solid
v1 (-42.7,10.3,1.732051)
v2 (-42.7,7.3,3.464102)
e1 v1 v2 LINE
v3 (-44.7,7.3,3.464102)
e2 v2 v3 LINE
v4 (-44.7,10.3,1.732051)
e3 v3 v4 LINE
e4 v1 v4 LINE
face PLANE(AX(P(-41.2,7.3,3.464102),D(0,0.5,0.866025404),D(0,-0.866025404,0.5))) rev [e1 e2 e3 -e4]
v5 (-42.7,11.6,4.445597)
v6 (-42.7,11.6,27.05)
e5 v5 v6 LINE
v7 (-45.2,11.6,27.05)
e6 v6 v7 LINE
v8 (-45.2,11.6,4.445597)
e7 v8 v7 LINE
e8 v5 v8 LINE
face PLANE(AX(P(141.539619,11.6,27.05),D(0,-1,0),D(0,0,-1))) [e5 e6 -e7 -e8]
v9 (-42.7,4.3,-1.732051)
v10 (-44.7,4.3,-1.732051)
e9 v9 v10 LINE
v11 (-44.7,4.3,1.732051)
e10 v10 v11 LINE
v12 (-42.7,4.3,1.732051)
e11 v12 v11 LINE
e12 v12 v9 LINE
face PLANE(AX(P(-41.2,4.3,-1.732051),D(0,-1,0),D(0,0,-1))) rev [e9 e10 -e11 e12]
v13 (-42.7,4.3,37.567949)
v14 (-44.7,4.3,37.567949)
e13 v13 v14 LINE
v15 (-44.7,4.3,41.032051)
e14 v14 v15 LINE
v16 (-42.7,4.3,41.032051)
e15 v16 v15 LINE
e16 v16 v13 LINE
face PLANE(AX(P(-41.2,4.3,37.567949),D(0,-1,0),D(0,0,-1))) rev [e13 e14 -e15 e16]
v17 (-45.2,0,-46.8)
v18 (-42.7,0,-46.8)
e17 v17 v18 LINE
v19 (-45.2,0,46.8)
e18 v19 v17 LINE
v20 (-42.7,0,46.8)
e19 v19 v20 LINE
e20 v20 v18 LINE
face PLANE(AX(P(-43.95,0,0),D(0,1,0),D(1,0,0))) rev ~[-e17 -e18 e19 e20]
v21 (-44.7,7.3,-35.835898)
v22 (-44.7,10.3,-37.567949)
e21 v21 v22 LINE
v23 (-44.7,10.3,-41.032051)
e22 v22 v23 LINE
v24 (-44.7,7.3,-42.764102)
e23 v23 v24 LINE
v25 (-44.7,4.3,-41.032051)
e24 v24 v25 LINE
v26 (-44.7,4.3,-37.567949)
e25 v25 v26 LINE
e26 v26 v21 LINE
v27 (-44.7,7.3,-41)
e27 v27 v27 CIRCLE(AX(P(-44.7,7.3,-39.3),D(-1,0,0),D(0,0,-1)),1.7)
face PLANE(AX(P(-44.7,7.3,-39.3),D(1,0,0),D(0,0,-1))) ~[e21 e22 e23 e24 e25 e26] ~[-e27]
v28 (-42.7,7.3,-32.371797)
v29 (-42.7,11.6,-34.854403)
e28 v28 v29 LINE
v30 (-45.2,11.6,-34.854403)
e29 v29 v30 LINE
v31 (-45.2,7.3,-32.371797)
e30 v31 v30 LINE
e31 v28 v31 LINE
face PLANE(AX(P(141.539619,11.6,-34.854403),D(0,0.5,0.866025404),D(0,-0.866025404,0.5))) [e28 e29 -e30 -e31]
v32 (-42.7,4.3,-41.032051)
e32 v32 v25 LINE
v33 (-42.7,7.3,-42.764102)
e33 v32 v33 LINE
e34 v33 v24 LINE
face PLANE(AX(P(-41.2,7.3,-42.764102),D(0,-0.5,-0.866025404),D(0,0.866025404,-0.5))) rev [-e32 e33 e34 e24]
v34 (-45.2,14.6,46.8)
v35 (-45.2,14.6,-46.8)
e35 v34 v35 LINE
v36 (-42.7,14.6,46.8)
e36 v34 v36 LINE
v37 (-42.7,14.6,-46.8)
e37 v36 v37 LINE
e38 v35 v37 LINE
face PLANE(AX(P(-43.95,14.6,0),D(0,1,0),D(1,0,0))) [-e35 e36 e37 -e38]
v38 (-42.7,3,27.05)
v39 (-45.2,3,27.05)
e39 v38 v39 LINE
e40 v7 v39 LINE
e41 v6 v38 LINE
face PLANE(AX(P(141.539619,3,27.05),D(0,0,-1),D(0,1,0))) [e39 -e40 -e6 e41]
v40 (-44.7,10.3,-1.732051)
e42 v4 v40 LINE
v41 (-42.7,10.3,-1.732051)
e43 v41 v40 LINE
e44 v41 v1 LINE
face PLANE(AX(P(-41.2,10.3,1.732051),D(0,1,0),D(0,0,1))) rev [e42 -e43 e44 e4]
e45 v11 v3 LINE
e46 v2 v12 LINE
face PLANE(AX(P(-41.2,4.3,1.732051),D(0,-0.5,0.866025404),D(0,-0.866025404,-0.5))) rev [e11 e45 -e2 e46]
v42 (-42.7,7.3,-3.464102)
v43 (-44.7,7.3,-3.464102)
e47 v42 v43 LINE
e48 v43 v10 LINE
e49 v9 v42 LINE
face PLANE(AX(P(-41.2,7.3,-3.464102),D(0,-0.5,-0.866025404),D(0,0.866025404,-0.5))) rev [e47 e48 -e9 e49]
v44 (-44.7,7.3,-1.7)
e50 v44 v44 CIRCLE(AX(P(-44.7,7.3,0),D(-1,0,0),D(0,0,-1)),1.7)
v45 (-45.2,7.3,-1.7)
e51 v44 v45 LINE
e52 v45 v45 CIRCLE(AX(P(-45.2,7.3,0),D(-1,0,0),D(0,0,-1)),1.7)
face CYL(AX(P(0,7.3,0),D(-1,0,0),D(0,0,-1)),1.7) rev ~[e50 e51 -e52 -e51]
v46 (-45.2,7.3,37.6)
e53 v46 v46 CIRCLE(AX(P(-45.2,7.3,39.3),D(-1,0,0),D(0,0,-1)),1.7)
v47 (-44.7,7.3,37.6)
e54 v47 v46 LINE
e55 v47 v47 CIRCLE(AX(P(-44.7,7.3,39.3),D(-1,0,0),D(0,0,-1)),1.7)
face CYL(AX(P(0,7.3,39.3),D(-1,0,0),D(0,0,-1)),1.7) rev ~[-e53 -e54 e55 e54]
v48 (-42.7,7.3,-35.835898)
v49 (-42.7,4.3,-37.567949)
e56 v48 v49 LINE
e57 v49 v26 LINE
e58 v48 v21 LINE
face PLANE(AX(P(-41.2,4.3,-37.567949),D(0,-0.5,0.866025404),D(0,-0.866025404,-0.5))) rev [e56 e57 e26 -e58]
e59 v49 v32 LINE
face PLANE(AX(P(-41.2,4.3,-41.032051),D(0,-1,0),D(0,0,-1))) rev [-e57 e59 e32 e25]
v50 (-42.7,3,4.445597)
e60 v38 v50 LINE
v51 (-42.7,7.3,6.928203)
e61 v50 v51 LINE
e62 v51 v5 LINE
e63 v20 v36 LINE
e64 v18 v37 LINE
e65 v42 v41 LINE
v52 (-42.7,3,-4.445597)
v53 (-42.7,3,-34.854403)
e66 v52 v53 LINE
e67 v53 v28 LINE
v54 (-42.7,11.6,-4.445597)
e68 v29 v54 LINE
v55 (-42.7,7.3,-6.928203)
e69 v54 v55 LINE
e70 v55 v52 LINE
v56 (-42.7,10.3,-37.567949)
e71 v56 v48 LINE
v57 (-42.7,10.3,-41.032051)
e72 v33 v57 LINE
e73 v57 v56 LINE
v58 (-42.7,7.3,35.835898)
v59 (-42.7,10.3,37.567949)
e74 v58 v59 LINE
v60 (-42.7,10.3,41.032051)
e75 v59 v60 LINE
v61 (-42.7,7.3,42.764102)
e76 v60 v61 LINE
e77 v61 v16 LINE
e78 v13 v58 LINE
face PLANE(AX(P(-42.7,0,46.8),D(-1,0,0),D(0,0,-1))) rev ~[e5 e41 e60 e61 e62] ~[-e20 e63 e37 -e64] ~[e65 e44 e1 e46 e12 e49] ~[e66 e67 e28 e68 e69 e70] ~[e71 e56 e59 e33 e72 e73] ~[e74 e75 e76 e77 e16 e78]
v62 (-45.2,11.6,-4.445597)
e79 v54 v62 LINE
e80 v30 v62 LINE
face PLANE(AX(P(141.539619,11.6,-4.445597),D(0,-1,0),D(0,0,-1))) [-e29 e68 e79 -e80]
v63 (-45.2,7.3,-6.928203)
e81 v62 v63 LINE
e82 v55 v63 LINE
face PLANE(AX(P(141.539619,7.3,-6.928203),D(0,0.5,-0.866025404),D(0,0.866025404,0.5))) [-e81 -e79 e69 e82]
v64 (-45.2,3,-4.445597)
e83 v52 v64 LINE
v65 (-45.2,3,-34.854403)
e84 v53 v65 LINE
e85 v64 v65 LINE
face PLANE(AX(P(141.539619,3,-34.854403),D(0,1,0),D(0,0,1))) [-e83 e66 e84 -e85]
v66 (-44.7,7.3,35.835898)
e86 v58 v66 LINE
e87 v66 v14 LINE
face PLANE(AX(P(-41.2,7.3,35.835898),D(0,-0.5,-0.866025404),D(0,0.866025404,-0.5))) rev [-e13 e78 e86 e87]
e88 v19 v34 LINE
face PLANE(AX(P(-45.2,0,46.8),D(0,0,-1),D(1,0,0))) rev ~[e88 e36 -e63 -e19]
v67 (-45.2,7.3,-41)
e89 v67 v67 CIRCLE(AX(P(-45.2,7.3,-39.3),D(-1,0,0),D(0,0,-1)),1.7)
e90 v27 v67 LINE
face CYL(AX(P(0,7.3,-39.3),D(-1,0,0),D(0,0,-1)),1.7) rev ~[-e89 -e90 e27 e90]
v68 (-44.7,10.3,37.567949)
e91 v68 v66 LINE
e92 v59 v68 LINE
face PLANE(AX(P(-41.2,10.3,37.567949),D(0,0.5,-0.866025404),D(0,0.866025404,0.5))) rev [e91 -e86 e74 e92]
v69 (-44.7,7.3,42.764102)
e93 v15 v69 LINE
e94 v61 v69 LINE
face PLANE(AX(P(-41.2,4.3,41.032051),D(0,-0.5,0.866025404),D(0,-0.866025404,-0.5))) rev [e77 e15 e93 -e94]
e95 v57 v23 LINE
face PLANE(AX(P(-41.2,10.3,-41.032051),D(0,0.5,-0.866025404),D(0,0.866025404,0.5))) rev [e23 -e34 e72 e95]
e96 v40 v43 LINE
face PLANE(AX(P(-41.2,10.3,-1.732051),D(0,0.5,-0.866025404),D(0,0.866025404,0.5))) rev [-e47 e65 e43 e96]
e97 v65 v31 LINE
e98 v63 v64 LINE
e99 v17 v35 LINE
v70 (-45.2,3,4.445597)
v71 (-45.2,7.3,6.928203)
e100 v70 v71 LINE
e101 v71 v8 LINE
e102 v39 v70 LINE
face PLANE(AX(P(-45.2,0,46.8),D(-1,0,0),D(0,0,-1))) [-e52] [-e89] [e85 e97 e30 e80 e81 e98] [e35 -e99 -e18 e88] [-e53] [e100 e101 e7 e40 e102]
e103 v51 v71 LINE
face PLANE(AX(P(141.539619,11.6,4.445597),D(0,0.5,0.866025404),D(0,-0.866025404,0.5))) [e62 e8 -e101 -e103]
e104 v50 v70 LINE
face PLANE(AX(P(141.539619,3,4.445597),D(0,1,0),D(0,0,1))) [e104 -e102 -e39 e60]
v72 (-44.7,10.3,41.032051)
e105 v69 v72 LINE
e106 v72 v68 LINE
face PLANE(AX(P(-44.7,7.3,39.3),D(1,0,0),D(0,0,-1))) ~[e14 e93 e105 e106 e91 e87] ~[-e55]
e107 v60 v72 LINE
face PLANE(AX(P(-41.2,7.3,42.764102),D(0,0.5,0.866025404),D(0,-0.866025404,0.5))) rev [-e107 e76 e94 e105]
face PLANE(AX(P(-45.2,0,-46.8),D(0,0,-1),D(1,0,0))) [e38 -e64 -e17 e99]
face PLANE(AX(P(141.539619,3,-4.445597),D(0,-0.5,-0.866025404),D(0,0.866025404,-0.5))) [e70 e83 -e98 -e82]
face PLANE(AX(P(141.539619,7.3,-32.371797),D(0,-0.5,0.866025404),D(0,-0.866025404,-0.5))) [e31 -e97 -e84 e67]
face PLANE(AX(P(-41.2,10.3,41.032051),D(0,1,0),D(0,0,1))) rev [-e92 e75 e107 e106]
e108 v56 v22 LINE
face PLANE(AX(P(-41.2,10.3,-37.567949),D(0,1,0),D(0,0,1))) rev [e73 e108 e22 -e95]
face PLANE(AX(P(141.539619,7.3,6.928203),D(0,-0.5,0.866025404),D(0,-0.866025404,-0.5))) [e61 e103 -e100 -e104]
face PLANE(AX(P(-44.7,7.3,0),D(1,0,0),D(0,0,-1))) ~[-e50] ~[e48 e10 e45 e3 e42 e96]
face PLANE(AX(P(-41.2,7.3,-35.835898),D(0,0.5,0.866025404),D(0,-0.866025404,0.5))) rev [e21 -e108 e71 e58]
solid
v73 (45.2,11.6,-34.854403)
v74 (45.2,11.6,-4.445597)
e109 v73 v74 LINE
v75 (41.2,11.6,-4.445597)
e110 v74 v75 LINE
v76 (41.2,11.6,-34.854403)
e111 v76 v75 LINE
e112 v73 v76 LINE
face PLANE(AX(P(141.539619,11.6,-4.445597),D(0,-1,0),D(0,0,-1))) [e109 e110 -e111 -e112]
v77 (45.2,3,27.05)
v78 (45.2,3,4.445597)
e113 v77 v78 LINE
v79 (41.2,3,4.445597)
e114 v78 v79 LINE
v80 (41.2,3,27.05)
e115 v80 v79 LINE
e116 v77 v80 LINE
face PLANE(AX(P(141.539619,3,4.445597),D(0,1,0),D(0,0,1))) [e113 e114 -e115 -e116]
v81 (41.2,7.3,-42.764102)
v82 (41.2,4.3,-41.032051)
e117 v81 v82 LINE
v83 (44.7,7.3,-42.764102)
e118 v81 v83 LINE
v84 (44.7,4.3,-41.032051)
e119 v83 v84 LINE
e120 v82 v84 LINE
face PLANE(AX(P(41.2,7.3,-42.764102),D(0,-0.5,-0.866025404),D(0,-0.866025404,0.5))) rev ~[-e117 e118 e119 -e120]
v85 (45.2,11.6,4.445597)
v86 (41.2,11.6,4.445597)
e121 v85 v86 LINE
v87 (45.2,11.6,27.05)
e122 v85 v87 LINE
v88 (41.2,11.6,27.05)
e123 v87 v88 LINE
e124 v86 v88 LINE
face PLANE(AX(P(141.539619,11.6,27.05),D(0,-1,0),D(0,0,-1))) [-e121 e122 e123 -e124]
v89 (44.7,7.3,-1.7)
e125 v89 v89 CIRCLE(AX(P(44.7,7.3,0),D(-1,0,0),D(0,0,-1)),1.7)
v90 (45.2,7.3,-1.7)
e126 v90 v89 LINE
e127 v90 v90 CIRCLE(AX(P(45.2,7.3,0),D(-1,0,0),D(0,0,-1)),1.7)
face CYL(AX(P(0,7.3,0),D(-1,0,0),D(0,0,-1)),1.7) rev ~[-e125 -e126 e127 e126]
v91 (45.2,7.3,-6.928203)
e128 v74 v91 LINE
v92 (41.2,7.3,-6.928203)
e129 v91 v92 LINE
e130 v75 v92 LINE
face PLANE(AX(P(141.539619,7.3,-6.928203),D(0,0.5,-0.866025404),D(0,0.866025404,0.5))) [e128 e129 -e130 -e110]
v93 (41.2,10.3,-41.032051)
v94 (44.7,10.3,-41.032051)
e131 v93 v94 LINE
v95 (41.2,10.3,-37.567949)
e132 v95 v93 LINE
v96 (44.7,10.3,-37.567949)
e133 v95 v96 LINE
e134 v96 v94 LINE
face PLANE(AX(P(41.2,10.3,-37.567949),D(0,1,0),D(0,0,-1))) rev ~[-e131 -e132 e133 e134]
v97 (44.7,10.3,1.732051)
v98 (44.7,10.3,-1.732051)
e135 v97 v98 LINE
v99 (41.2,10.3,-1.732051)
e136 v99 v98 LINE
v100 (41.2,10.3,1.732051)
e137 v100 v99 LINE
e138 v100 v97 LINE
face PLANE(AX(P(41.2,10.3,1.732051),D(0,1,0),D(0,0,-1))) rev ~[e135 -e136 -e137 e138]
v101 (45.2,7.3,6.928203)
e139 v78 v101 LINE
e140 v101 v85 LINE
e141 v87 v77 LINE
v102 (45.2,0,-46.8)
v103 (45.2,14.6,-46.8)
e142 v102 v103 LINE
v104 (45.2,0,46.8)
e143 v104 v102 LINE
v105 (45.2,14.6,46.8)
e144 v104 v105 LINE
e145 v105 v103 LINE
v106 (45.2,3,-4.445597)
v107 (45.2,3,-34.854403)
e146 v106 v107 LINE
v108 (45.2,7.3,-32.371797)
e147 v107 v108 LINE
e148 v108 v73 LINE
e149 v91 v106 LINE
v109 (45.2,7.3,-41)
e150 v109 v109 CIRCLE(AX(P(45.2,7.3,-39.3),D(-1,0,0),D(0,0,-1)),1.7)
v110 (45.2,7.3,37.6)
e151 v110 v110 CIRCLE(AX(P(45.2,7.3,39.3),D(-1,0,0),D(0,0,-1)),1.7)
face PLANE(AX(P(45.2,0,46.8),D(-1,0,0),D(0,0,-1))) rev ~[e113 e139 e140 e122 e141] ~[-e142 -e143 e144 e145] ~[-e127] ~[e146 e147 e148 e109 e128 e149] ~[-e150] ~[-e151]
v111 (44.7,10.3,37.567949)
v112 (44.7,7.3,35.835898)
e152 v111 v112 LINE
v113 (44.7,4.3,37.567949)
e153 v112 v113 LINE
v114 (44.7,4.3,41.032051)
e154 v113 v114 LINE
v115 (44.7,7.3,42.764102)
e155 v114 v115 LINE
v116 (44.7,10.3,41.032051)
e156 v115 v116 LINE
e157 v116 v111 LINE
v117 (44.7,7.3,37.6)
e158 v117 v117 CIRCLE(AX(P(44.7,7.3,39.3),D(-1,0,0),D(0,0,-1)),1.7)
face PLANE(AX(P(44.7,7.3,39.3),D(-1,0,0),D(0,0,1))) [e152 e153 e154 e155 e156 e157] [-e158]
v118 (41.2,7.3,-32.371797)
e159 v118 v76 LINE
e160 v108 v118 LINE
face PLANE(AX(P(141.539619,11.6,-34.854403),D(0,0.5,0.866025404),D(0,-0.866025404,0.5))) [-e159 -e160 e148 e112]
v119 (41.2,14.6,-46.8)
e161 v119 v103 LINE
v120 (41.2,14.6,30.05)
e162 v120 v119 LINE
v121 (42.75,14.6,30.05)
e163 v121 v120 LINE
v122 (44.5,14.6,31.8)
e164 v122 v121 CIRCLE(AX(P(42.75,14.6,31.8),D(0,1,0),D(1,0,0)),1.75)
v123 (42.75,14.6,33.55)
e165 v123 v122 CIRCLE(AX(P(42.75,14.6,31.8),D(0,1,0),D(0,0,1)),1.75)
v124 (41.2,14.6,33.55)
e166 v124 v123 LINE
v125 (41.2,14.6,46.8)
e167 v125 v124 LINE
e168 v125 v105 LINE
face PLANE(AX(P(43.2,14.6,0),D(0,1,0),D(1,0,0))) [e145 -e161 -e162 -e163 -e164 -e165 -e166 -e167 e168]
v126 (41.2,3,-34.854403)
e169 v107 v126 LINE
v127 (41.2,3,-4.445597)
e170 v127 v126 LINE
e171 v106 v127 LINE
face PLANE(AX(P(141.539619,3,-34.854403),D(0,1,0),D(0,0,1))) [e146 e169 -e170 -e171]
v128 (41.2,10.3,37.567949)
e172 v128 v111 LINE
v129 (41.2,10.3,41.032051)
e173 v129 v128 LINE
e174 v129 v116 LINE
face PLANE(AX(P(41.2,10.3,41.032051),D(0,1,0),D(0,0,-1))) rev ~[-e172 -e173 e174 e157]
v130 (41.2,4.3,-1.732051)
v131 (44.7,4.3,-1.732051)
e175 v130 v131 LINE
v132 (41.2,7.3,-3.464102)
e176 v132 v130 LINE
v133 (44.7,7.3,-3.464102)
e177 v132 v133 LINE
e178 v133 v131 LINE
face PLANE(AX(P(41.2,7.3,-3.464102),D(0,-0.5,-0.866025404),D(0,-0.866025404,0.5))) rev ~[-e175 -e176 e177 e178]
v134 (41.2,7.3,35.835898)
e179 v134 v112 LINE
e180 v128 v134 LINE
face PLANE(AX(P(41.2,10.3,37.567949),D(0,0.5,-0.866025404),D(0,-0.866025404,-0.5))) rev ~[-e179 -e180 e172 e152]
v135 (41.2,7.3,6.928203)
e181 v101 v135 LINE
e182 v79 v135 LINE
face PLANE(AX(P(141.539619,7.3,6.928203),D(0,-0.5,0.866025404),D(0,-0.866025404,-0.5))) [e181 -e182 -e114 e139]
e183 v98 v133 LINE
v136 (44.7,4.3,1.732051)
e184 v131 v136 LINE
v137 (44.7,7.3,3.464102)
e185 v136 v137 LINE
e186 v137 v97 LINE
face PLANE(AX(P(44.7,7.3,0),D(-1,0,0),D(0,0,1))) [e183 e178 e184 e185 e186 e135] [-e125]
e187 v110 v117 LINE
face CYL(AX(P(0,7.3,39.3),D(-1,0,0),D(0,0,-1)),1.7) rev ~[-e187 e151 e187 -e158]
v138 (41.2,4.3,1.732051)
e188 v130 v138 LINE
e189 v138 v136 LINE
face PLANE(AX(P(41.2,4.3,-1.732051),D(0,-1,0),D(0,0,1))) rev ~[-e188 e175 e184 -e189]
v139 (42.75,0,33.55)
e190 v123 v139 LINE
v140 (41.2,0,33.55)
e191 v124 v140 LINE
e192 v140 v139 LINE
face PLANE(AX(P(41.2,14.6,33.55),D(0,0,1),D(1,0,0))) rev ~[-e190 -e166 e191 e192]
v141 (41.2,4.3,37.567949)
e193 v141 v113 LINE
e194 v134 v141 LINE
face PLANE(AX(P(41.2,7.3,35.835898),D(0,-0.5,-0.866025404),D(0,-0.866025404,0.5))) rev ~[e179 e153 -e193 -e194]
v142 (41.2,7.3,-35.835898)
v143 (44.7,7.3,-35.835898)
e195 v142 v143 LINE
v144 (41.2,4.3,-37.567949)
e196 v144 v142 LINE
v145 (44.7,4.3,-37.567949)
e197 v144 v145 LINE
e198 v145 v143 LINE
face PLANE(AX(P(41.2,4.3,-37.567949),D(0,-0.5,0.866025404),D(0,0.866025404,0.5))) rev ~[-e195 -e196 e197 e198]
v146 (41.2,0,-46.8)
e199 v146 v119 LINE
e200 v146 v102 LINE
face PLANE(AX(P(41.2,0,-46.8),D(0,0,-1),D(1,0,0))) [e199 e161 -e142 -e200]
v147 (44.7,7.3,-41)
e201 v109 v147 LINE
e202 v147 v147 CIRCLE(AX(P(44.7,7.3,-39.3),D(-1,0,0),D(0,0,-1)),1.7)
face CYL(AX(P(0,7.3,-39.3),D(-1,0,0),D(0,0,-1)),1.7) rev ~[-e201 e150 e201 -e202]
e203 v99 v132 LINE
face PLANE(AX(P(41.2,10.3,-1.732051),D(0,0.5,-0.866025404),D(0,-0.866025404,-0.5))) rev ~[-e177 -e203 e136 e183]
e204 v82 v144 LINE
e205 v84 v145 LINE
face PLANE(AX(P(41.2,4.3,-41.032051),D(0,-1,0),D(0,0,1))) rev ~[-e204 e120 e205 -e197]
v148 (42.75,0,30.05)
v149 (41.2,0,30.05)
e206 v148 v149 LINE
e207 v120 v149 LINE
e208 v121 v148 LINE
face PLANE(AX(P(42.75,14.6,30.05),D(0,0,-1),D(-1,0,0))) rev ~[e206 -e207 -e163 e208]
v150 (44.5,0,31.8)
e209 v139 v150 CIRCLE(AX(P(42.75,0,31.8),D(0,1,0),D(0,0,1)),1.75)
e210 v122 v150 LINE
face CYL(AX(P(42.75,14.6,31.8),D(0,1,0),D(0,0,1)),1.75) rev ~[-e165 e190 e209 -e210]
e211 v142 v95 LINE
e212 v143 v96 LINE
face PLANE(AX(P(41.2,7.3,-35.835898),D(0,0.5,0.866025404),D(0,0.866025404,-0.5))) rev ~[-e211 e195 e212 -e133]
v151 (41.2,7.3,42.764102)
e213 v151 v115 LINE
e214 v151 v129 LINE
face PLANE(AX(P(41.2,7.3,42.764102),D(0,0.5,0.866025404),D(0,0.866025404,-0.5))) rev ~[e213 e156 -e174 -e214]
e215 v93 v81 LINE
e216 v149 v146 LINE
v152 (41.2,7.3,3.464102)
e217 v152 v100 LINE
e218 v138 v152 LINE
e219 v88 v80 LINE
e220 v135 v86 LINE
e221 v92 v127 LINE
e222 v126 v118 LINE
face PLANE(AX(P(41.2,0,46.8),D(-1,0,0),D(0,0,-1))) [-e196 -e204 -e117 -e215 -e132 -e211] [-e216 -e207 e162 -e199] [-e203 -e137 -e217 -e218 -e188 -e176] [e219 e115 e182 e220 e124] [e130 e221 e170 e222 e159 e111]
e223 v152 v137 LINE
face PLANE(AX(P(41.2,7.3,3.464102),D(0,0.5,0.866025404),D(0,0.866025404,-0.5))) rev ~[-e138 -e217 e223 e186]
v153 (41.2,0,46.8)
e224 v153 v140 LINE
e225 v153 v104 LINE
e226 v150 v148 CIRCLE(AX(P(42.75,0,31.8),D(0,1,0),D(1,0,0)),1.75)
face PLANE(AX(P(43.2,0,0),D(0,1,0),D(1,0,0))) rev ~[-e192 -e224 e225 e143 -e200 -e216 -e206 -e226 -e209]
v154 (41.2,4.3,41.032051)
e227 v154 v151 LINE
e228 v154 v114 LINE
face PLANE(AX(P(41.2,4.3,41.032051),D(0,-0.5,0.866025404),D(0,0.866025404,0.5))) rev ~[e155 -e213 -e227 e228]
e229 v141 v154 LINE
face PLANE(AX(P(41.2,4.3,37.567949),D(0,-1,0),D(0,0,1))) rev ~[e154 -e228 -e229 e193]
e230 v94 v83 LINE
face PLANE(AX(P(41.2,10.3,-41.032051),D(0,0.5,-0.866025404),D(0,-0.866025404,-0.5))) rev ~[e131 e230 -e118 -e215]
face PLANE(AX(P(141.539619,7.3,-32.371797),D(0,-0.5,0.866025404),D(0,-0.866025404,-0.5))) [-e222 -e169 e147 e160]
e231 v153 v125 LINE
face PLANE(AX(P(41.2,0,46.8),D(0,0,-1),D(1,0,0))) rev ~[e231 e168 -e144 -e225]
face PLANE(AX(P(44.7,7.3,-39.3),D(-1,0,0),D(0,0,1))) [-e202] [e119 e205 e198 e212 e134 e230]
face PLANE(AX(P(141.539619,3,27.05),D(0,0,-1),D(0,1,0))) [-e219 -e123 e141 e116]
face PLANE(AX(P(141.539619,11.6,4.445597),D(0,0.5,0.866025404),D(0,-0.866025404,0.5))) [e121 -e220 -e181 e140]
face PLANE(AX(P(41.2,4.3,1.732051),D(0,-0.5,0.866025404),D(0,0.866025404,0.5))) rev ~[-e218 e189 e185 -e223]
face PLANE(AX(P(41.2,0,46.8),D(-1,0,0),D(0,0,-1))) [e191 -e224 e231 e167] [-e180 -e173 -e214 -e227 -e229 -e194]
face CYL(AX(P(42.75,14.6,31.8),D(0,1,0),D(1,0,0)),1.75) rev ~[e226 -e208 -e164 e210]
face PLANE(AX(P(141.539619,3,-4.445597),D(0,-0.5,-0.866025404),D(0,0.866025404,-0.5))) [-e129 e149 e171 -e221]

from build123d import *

# Parameters (mm, degrees)
SKETCH1_W                     = 2.5
SKETCH1_H                     = 93.6
BOSS_EXTRUDE1_DEPTH           = 14.6
SKETCH1_W_2                   = 4
BOSS_EXTRUDE1_2_DEPTH         = 14.6
CUT_EXTRUDE1_DEPTH            = 67.681631654
SKETCH7_W                     = 1.7
SKETCH7_H                     = 90.4
M3_CLEARANCE_HOLE1_AT_2_COUNT = 2
M3_CLEARANCE_HOLE1_AT_2_PITCH = 39.3
M3_CLEARANCE_HOLE1_AT_3_COUNT = 2
M3_CLEARANCE_HOLE1_AT_3_PITCH = 39.3
CUT_EXTRUDE2_DEPTH            = 3.5
CUT_EXTRUDE4_DEPTH            = 100.339619488
CUT_EXTRUDE4_DEPTH_BACK       = 100.339619488


with BuildPart() as part:
    # Sketch1 → Boss-Extrude1 (new body)
    with BuildSketch(Plane(origin=(0, 0, 0), x_dir=(1, 0, 0), z_dir=(0, 1, 0))):
        with Locations((-43.95, 0)):
            Rectangle(SKETCH1_W, SKETCH1_H)
    extrude(amount=BOSS_EXTRUDE1_DEPTH)


with BuildPart() as body_2:
    # Sketch1 → Boss-Extrude1 2 (new body)
    with BuildSketch(Plane(origin=(0, 0, 0), x_dir=(1, 0, 0), z_dir=(0, 1, 0))):
        with Locations((43.2, 0)):
            Rectangle(SKETCH1_W_2, SKETCH1_H)
    extrude(amount=BOSS_EXTRUDE1_2_DEPTH)

    # Sketch4 → Cut-Extrude1 (cut, through all)
    with BuildSketch(Plane(origin=(0, 14.6, 0), x_dir=(1, 0, 0), z_dir=(0, 1, 0))):
        with BuildLine():
            Line((42.75, -30.05), (42.75, -31.8))
            Line((42.75, -31.8), (42.75, -33.55))
            ThreePointArc((42.75, -33.55), (43.987436867, -33.037436867), (44.5, -31.8))
            ThreePointArc((44.5, -31.8), (43.987436867, -30.562563133), (42.75, -30.05))
        make_face()
        with BuildLine():
            Line((42.75, -33.55), (42.75, -31.8))
            Line((42.75, -31.8), (42.75, -30.05))
            ThreePointArc((42.75, -30.05), (41.844242505, -30.302634527), (41.2, -30.98759616))
            Line((41.2, -30.98759616), (41.2, -32.61240384))
            ThreePointArc((41.2, -32.61240384), (41.844242505, -33.297365473), (42.75, -33.55))
        make_face()
        with BuildLine():
            Line((41.2, -33.55), (42.75, -33.55))
            ThreePointArc((42.75, -33.55), (41.844242505, -33.297365473), (41.2, -32.61240384))
            Line((41.2, -32.61240384), (41.2, -33.55))
        make_face()
        with BuildLine():
            ThreePointArc((41.2, -30.98759616), (41.844242505, -30.302634527), (42.75, -30.05))
            Line((42.75, -30.05), (41.2, -30.05))
            Line((41.2, -30.05), (41.2, -30.98759616))
        make_face()
    extrude(amount=-CUT_EXTRUDE1_DEPTH, mode=Mode.SUBTRACT)


with BuildPart() as m3_clearance_hole1_tool:
    # Sketch7 → M3 Clearance Hole1 (revolve)
    with BuildSketch(Plane(origin=(45.2, 7.3, 0), x_dir=(0, 0, -1), z_dir=(0, 1, 0))):
        with Locations((0.85, 45.2)):
            Rectangle(SKETCH7_W, SKETCH7_H)
    m3_clearance_hole1 = revolve(axis=Axis((51.55, 7.3, 0), (-1, 0, 0)))


with BuildPart() as part_1:
    add(part.part)

    # M3 Clearance Hole1: cut by m3_clearance_hole1_tool
    add(m3_clearance_hole1_tool.part, mode=Mode.SUBTRACT)


with BuildPart() as body_2_1:
    add(body_2.part)

    # M3 Clearance Hole1: cut by m3_clearance_hole1_tool
    add(m3_clearance_hole1_tool.part, mode=Mode.SUBTRACT)


with BuildPart() as m3_clearance_hole1_at_2_tool:
    # M3 Clearance Hole1 at 2: M3 Clearance Hole1 ×2
    with Locations(*[(0, 0, i * M3_CLEARANCE_HOLE1_AT_2_PITCH) for i in range(1, M3_CLEARANCE_HOLE1_AT_2_COUNT)]):
        add(m3_clearance_hole1)


with BuildPart() as part_2:
    add(part_1.part)

    # M3 Clearance Hole1 at 2: cut by m3_clearance_hole1_at_2_tool
    add(m3_clearance_hole1_at_2_tool.part, mode=Mode.SUBTRACT)


with BuildPart() as body_2_2:
    add(body_2_1.part)

    # M3 Clearance Hole1 at 2: cut by m3_clearance_hole1_at_2_tool
    add(m3_clearance_hole1_at_2_tool.part, mode=Mode.SUBTRACT)


with BuildPart() as m3_clearance_hole1_at_3_tool:
    # M3 Clearance Hole1 at 3: M3 Clearance Hole1 ×2
    with Locations(*[(0, 0, -i * M3_CLEARANCE_HOLE1_AT_3_PITCH) for i in range(1, M3_CLEARANCE_HOLE1_AT_3_COUNT)]):
        add(m3_clearance_hole1)


with BuildPart() as part_3:
    add(part_2.part)

    # M3 Clearance Hole1 at 3: cut by m3_clearance_hole1_at_3_tool
    add(m3_clearance_hole1_at_3_tool.part, mode=Mode.SUBTRACT)


with BuildPart() as body_2_3:
    add(body_2_2.part)

    # M3 Clearance Hole1 at 3: cut by m3_clearance_hole1_at_3_tool
    add(m3_clearance_hole1_at_3_tool.part, mode=Mode.SUBTRACT)

    # Sketch8 → Cut-Extrude2 (cut)
    with BuildSketch(Plane.ZY.offset(-41.2)):
        Polygon((-35.835898385, 7.3), (-37.567949192, 10.3), (-41.032050808, 10.3), (-42.764101615, 7.3), (-41.032050808, 4.3), (-37.567949192, 4.3), align=None)
        Polygon((3.464101615, 7.3), (1.732050808, 10.3), (-1.732050808, 10.3), (-3.464101615, 7.3), (-1.732050808, 4.3), (1.732050808, 4.3), align=None)
        Polygon((42.764101615, 7.3), (41.032050808, 10.3), (37.567949192, 10.3), (35.835898385, 7.3), (37.567949192, 4.3), (41.032050808, 4.3), align=None)
    cut_extrude2 = extrude(amount=-CUT_EXTRUDE2_DEPTH, mode=Mode.SUBTRACT)


with BuildPart() as part_4:
    add(part_3.part)

    # Mirror1: Cut-Extrude2 across plane
    add(cut_extrude2.mirror(Plane(origin=(0, 0, 0), x_dir=(0, 0, 1), z_dir=(1, 0, 0))), mode=Mode.SUBTRACT)


with BuildPart() as cut_extrude4_tool:
    # Sketch14 → Cut-Extrude4 (new, two sides: drawn at the far end of the back side and taken through both)
    with BuildSketch(Plane.ZY.offset(-41.2).offset(-CUT_EXTRUDE4_DEPTH_BACK)):
        Polygon((-34.854402927, 3), (-4.445597073, 3), (-6.92820323, 7.3), (-4.445597073, 11.6), (-34.854402927, 11.6), (-32.37179677, 7.3), align=None)
        Polygon((4.445597073, 3), (27.05, 3), (27.05, 11.6), (4.445597073, 11.6), (6.92820323, 7.3), align=None)
    extrude(amount=CUT_EXTRUDE4_DEPTH + CUT_EXTRUDE4_DEPTH_BACK)


with BuildPart() as part_5:
    add(part_4.part)

    # Cut-Extrude4: cut by cut_extrude4_tool
    add(cut_extrude4_tool.part, mode=Mode.SUBTRACT)


with BuildPart() as body_2_4:
    add(body_2_3.part)

    # Cut-Extrude4: cut by cut_extrude4_tool
    add(cut_extrude4_tool.part, mode=Mode.SUBTRACT)


solid = Compound([part_5.part, body_2_4.part])
